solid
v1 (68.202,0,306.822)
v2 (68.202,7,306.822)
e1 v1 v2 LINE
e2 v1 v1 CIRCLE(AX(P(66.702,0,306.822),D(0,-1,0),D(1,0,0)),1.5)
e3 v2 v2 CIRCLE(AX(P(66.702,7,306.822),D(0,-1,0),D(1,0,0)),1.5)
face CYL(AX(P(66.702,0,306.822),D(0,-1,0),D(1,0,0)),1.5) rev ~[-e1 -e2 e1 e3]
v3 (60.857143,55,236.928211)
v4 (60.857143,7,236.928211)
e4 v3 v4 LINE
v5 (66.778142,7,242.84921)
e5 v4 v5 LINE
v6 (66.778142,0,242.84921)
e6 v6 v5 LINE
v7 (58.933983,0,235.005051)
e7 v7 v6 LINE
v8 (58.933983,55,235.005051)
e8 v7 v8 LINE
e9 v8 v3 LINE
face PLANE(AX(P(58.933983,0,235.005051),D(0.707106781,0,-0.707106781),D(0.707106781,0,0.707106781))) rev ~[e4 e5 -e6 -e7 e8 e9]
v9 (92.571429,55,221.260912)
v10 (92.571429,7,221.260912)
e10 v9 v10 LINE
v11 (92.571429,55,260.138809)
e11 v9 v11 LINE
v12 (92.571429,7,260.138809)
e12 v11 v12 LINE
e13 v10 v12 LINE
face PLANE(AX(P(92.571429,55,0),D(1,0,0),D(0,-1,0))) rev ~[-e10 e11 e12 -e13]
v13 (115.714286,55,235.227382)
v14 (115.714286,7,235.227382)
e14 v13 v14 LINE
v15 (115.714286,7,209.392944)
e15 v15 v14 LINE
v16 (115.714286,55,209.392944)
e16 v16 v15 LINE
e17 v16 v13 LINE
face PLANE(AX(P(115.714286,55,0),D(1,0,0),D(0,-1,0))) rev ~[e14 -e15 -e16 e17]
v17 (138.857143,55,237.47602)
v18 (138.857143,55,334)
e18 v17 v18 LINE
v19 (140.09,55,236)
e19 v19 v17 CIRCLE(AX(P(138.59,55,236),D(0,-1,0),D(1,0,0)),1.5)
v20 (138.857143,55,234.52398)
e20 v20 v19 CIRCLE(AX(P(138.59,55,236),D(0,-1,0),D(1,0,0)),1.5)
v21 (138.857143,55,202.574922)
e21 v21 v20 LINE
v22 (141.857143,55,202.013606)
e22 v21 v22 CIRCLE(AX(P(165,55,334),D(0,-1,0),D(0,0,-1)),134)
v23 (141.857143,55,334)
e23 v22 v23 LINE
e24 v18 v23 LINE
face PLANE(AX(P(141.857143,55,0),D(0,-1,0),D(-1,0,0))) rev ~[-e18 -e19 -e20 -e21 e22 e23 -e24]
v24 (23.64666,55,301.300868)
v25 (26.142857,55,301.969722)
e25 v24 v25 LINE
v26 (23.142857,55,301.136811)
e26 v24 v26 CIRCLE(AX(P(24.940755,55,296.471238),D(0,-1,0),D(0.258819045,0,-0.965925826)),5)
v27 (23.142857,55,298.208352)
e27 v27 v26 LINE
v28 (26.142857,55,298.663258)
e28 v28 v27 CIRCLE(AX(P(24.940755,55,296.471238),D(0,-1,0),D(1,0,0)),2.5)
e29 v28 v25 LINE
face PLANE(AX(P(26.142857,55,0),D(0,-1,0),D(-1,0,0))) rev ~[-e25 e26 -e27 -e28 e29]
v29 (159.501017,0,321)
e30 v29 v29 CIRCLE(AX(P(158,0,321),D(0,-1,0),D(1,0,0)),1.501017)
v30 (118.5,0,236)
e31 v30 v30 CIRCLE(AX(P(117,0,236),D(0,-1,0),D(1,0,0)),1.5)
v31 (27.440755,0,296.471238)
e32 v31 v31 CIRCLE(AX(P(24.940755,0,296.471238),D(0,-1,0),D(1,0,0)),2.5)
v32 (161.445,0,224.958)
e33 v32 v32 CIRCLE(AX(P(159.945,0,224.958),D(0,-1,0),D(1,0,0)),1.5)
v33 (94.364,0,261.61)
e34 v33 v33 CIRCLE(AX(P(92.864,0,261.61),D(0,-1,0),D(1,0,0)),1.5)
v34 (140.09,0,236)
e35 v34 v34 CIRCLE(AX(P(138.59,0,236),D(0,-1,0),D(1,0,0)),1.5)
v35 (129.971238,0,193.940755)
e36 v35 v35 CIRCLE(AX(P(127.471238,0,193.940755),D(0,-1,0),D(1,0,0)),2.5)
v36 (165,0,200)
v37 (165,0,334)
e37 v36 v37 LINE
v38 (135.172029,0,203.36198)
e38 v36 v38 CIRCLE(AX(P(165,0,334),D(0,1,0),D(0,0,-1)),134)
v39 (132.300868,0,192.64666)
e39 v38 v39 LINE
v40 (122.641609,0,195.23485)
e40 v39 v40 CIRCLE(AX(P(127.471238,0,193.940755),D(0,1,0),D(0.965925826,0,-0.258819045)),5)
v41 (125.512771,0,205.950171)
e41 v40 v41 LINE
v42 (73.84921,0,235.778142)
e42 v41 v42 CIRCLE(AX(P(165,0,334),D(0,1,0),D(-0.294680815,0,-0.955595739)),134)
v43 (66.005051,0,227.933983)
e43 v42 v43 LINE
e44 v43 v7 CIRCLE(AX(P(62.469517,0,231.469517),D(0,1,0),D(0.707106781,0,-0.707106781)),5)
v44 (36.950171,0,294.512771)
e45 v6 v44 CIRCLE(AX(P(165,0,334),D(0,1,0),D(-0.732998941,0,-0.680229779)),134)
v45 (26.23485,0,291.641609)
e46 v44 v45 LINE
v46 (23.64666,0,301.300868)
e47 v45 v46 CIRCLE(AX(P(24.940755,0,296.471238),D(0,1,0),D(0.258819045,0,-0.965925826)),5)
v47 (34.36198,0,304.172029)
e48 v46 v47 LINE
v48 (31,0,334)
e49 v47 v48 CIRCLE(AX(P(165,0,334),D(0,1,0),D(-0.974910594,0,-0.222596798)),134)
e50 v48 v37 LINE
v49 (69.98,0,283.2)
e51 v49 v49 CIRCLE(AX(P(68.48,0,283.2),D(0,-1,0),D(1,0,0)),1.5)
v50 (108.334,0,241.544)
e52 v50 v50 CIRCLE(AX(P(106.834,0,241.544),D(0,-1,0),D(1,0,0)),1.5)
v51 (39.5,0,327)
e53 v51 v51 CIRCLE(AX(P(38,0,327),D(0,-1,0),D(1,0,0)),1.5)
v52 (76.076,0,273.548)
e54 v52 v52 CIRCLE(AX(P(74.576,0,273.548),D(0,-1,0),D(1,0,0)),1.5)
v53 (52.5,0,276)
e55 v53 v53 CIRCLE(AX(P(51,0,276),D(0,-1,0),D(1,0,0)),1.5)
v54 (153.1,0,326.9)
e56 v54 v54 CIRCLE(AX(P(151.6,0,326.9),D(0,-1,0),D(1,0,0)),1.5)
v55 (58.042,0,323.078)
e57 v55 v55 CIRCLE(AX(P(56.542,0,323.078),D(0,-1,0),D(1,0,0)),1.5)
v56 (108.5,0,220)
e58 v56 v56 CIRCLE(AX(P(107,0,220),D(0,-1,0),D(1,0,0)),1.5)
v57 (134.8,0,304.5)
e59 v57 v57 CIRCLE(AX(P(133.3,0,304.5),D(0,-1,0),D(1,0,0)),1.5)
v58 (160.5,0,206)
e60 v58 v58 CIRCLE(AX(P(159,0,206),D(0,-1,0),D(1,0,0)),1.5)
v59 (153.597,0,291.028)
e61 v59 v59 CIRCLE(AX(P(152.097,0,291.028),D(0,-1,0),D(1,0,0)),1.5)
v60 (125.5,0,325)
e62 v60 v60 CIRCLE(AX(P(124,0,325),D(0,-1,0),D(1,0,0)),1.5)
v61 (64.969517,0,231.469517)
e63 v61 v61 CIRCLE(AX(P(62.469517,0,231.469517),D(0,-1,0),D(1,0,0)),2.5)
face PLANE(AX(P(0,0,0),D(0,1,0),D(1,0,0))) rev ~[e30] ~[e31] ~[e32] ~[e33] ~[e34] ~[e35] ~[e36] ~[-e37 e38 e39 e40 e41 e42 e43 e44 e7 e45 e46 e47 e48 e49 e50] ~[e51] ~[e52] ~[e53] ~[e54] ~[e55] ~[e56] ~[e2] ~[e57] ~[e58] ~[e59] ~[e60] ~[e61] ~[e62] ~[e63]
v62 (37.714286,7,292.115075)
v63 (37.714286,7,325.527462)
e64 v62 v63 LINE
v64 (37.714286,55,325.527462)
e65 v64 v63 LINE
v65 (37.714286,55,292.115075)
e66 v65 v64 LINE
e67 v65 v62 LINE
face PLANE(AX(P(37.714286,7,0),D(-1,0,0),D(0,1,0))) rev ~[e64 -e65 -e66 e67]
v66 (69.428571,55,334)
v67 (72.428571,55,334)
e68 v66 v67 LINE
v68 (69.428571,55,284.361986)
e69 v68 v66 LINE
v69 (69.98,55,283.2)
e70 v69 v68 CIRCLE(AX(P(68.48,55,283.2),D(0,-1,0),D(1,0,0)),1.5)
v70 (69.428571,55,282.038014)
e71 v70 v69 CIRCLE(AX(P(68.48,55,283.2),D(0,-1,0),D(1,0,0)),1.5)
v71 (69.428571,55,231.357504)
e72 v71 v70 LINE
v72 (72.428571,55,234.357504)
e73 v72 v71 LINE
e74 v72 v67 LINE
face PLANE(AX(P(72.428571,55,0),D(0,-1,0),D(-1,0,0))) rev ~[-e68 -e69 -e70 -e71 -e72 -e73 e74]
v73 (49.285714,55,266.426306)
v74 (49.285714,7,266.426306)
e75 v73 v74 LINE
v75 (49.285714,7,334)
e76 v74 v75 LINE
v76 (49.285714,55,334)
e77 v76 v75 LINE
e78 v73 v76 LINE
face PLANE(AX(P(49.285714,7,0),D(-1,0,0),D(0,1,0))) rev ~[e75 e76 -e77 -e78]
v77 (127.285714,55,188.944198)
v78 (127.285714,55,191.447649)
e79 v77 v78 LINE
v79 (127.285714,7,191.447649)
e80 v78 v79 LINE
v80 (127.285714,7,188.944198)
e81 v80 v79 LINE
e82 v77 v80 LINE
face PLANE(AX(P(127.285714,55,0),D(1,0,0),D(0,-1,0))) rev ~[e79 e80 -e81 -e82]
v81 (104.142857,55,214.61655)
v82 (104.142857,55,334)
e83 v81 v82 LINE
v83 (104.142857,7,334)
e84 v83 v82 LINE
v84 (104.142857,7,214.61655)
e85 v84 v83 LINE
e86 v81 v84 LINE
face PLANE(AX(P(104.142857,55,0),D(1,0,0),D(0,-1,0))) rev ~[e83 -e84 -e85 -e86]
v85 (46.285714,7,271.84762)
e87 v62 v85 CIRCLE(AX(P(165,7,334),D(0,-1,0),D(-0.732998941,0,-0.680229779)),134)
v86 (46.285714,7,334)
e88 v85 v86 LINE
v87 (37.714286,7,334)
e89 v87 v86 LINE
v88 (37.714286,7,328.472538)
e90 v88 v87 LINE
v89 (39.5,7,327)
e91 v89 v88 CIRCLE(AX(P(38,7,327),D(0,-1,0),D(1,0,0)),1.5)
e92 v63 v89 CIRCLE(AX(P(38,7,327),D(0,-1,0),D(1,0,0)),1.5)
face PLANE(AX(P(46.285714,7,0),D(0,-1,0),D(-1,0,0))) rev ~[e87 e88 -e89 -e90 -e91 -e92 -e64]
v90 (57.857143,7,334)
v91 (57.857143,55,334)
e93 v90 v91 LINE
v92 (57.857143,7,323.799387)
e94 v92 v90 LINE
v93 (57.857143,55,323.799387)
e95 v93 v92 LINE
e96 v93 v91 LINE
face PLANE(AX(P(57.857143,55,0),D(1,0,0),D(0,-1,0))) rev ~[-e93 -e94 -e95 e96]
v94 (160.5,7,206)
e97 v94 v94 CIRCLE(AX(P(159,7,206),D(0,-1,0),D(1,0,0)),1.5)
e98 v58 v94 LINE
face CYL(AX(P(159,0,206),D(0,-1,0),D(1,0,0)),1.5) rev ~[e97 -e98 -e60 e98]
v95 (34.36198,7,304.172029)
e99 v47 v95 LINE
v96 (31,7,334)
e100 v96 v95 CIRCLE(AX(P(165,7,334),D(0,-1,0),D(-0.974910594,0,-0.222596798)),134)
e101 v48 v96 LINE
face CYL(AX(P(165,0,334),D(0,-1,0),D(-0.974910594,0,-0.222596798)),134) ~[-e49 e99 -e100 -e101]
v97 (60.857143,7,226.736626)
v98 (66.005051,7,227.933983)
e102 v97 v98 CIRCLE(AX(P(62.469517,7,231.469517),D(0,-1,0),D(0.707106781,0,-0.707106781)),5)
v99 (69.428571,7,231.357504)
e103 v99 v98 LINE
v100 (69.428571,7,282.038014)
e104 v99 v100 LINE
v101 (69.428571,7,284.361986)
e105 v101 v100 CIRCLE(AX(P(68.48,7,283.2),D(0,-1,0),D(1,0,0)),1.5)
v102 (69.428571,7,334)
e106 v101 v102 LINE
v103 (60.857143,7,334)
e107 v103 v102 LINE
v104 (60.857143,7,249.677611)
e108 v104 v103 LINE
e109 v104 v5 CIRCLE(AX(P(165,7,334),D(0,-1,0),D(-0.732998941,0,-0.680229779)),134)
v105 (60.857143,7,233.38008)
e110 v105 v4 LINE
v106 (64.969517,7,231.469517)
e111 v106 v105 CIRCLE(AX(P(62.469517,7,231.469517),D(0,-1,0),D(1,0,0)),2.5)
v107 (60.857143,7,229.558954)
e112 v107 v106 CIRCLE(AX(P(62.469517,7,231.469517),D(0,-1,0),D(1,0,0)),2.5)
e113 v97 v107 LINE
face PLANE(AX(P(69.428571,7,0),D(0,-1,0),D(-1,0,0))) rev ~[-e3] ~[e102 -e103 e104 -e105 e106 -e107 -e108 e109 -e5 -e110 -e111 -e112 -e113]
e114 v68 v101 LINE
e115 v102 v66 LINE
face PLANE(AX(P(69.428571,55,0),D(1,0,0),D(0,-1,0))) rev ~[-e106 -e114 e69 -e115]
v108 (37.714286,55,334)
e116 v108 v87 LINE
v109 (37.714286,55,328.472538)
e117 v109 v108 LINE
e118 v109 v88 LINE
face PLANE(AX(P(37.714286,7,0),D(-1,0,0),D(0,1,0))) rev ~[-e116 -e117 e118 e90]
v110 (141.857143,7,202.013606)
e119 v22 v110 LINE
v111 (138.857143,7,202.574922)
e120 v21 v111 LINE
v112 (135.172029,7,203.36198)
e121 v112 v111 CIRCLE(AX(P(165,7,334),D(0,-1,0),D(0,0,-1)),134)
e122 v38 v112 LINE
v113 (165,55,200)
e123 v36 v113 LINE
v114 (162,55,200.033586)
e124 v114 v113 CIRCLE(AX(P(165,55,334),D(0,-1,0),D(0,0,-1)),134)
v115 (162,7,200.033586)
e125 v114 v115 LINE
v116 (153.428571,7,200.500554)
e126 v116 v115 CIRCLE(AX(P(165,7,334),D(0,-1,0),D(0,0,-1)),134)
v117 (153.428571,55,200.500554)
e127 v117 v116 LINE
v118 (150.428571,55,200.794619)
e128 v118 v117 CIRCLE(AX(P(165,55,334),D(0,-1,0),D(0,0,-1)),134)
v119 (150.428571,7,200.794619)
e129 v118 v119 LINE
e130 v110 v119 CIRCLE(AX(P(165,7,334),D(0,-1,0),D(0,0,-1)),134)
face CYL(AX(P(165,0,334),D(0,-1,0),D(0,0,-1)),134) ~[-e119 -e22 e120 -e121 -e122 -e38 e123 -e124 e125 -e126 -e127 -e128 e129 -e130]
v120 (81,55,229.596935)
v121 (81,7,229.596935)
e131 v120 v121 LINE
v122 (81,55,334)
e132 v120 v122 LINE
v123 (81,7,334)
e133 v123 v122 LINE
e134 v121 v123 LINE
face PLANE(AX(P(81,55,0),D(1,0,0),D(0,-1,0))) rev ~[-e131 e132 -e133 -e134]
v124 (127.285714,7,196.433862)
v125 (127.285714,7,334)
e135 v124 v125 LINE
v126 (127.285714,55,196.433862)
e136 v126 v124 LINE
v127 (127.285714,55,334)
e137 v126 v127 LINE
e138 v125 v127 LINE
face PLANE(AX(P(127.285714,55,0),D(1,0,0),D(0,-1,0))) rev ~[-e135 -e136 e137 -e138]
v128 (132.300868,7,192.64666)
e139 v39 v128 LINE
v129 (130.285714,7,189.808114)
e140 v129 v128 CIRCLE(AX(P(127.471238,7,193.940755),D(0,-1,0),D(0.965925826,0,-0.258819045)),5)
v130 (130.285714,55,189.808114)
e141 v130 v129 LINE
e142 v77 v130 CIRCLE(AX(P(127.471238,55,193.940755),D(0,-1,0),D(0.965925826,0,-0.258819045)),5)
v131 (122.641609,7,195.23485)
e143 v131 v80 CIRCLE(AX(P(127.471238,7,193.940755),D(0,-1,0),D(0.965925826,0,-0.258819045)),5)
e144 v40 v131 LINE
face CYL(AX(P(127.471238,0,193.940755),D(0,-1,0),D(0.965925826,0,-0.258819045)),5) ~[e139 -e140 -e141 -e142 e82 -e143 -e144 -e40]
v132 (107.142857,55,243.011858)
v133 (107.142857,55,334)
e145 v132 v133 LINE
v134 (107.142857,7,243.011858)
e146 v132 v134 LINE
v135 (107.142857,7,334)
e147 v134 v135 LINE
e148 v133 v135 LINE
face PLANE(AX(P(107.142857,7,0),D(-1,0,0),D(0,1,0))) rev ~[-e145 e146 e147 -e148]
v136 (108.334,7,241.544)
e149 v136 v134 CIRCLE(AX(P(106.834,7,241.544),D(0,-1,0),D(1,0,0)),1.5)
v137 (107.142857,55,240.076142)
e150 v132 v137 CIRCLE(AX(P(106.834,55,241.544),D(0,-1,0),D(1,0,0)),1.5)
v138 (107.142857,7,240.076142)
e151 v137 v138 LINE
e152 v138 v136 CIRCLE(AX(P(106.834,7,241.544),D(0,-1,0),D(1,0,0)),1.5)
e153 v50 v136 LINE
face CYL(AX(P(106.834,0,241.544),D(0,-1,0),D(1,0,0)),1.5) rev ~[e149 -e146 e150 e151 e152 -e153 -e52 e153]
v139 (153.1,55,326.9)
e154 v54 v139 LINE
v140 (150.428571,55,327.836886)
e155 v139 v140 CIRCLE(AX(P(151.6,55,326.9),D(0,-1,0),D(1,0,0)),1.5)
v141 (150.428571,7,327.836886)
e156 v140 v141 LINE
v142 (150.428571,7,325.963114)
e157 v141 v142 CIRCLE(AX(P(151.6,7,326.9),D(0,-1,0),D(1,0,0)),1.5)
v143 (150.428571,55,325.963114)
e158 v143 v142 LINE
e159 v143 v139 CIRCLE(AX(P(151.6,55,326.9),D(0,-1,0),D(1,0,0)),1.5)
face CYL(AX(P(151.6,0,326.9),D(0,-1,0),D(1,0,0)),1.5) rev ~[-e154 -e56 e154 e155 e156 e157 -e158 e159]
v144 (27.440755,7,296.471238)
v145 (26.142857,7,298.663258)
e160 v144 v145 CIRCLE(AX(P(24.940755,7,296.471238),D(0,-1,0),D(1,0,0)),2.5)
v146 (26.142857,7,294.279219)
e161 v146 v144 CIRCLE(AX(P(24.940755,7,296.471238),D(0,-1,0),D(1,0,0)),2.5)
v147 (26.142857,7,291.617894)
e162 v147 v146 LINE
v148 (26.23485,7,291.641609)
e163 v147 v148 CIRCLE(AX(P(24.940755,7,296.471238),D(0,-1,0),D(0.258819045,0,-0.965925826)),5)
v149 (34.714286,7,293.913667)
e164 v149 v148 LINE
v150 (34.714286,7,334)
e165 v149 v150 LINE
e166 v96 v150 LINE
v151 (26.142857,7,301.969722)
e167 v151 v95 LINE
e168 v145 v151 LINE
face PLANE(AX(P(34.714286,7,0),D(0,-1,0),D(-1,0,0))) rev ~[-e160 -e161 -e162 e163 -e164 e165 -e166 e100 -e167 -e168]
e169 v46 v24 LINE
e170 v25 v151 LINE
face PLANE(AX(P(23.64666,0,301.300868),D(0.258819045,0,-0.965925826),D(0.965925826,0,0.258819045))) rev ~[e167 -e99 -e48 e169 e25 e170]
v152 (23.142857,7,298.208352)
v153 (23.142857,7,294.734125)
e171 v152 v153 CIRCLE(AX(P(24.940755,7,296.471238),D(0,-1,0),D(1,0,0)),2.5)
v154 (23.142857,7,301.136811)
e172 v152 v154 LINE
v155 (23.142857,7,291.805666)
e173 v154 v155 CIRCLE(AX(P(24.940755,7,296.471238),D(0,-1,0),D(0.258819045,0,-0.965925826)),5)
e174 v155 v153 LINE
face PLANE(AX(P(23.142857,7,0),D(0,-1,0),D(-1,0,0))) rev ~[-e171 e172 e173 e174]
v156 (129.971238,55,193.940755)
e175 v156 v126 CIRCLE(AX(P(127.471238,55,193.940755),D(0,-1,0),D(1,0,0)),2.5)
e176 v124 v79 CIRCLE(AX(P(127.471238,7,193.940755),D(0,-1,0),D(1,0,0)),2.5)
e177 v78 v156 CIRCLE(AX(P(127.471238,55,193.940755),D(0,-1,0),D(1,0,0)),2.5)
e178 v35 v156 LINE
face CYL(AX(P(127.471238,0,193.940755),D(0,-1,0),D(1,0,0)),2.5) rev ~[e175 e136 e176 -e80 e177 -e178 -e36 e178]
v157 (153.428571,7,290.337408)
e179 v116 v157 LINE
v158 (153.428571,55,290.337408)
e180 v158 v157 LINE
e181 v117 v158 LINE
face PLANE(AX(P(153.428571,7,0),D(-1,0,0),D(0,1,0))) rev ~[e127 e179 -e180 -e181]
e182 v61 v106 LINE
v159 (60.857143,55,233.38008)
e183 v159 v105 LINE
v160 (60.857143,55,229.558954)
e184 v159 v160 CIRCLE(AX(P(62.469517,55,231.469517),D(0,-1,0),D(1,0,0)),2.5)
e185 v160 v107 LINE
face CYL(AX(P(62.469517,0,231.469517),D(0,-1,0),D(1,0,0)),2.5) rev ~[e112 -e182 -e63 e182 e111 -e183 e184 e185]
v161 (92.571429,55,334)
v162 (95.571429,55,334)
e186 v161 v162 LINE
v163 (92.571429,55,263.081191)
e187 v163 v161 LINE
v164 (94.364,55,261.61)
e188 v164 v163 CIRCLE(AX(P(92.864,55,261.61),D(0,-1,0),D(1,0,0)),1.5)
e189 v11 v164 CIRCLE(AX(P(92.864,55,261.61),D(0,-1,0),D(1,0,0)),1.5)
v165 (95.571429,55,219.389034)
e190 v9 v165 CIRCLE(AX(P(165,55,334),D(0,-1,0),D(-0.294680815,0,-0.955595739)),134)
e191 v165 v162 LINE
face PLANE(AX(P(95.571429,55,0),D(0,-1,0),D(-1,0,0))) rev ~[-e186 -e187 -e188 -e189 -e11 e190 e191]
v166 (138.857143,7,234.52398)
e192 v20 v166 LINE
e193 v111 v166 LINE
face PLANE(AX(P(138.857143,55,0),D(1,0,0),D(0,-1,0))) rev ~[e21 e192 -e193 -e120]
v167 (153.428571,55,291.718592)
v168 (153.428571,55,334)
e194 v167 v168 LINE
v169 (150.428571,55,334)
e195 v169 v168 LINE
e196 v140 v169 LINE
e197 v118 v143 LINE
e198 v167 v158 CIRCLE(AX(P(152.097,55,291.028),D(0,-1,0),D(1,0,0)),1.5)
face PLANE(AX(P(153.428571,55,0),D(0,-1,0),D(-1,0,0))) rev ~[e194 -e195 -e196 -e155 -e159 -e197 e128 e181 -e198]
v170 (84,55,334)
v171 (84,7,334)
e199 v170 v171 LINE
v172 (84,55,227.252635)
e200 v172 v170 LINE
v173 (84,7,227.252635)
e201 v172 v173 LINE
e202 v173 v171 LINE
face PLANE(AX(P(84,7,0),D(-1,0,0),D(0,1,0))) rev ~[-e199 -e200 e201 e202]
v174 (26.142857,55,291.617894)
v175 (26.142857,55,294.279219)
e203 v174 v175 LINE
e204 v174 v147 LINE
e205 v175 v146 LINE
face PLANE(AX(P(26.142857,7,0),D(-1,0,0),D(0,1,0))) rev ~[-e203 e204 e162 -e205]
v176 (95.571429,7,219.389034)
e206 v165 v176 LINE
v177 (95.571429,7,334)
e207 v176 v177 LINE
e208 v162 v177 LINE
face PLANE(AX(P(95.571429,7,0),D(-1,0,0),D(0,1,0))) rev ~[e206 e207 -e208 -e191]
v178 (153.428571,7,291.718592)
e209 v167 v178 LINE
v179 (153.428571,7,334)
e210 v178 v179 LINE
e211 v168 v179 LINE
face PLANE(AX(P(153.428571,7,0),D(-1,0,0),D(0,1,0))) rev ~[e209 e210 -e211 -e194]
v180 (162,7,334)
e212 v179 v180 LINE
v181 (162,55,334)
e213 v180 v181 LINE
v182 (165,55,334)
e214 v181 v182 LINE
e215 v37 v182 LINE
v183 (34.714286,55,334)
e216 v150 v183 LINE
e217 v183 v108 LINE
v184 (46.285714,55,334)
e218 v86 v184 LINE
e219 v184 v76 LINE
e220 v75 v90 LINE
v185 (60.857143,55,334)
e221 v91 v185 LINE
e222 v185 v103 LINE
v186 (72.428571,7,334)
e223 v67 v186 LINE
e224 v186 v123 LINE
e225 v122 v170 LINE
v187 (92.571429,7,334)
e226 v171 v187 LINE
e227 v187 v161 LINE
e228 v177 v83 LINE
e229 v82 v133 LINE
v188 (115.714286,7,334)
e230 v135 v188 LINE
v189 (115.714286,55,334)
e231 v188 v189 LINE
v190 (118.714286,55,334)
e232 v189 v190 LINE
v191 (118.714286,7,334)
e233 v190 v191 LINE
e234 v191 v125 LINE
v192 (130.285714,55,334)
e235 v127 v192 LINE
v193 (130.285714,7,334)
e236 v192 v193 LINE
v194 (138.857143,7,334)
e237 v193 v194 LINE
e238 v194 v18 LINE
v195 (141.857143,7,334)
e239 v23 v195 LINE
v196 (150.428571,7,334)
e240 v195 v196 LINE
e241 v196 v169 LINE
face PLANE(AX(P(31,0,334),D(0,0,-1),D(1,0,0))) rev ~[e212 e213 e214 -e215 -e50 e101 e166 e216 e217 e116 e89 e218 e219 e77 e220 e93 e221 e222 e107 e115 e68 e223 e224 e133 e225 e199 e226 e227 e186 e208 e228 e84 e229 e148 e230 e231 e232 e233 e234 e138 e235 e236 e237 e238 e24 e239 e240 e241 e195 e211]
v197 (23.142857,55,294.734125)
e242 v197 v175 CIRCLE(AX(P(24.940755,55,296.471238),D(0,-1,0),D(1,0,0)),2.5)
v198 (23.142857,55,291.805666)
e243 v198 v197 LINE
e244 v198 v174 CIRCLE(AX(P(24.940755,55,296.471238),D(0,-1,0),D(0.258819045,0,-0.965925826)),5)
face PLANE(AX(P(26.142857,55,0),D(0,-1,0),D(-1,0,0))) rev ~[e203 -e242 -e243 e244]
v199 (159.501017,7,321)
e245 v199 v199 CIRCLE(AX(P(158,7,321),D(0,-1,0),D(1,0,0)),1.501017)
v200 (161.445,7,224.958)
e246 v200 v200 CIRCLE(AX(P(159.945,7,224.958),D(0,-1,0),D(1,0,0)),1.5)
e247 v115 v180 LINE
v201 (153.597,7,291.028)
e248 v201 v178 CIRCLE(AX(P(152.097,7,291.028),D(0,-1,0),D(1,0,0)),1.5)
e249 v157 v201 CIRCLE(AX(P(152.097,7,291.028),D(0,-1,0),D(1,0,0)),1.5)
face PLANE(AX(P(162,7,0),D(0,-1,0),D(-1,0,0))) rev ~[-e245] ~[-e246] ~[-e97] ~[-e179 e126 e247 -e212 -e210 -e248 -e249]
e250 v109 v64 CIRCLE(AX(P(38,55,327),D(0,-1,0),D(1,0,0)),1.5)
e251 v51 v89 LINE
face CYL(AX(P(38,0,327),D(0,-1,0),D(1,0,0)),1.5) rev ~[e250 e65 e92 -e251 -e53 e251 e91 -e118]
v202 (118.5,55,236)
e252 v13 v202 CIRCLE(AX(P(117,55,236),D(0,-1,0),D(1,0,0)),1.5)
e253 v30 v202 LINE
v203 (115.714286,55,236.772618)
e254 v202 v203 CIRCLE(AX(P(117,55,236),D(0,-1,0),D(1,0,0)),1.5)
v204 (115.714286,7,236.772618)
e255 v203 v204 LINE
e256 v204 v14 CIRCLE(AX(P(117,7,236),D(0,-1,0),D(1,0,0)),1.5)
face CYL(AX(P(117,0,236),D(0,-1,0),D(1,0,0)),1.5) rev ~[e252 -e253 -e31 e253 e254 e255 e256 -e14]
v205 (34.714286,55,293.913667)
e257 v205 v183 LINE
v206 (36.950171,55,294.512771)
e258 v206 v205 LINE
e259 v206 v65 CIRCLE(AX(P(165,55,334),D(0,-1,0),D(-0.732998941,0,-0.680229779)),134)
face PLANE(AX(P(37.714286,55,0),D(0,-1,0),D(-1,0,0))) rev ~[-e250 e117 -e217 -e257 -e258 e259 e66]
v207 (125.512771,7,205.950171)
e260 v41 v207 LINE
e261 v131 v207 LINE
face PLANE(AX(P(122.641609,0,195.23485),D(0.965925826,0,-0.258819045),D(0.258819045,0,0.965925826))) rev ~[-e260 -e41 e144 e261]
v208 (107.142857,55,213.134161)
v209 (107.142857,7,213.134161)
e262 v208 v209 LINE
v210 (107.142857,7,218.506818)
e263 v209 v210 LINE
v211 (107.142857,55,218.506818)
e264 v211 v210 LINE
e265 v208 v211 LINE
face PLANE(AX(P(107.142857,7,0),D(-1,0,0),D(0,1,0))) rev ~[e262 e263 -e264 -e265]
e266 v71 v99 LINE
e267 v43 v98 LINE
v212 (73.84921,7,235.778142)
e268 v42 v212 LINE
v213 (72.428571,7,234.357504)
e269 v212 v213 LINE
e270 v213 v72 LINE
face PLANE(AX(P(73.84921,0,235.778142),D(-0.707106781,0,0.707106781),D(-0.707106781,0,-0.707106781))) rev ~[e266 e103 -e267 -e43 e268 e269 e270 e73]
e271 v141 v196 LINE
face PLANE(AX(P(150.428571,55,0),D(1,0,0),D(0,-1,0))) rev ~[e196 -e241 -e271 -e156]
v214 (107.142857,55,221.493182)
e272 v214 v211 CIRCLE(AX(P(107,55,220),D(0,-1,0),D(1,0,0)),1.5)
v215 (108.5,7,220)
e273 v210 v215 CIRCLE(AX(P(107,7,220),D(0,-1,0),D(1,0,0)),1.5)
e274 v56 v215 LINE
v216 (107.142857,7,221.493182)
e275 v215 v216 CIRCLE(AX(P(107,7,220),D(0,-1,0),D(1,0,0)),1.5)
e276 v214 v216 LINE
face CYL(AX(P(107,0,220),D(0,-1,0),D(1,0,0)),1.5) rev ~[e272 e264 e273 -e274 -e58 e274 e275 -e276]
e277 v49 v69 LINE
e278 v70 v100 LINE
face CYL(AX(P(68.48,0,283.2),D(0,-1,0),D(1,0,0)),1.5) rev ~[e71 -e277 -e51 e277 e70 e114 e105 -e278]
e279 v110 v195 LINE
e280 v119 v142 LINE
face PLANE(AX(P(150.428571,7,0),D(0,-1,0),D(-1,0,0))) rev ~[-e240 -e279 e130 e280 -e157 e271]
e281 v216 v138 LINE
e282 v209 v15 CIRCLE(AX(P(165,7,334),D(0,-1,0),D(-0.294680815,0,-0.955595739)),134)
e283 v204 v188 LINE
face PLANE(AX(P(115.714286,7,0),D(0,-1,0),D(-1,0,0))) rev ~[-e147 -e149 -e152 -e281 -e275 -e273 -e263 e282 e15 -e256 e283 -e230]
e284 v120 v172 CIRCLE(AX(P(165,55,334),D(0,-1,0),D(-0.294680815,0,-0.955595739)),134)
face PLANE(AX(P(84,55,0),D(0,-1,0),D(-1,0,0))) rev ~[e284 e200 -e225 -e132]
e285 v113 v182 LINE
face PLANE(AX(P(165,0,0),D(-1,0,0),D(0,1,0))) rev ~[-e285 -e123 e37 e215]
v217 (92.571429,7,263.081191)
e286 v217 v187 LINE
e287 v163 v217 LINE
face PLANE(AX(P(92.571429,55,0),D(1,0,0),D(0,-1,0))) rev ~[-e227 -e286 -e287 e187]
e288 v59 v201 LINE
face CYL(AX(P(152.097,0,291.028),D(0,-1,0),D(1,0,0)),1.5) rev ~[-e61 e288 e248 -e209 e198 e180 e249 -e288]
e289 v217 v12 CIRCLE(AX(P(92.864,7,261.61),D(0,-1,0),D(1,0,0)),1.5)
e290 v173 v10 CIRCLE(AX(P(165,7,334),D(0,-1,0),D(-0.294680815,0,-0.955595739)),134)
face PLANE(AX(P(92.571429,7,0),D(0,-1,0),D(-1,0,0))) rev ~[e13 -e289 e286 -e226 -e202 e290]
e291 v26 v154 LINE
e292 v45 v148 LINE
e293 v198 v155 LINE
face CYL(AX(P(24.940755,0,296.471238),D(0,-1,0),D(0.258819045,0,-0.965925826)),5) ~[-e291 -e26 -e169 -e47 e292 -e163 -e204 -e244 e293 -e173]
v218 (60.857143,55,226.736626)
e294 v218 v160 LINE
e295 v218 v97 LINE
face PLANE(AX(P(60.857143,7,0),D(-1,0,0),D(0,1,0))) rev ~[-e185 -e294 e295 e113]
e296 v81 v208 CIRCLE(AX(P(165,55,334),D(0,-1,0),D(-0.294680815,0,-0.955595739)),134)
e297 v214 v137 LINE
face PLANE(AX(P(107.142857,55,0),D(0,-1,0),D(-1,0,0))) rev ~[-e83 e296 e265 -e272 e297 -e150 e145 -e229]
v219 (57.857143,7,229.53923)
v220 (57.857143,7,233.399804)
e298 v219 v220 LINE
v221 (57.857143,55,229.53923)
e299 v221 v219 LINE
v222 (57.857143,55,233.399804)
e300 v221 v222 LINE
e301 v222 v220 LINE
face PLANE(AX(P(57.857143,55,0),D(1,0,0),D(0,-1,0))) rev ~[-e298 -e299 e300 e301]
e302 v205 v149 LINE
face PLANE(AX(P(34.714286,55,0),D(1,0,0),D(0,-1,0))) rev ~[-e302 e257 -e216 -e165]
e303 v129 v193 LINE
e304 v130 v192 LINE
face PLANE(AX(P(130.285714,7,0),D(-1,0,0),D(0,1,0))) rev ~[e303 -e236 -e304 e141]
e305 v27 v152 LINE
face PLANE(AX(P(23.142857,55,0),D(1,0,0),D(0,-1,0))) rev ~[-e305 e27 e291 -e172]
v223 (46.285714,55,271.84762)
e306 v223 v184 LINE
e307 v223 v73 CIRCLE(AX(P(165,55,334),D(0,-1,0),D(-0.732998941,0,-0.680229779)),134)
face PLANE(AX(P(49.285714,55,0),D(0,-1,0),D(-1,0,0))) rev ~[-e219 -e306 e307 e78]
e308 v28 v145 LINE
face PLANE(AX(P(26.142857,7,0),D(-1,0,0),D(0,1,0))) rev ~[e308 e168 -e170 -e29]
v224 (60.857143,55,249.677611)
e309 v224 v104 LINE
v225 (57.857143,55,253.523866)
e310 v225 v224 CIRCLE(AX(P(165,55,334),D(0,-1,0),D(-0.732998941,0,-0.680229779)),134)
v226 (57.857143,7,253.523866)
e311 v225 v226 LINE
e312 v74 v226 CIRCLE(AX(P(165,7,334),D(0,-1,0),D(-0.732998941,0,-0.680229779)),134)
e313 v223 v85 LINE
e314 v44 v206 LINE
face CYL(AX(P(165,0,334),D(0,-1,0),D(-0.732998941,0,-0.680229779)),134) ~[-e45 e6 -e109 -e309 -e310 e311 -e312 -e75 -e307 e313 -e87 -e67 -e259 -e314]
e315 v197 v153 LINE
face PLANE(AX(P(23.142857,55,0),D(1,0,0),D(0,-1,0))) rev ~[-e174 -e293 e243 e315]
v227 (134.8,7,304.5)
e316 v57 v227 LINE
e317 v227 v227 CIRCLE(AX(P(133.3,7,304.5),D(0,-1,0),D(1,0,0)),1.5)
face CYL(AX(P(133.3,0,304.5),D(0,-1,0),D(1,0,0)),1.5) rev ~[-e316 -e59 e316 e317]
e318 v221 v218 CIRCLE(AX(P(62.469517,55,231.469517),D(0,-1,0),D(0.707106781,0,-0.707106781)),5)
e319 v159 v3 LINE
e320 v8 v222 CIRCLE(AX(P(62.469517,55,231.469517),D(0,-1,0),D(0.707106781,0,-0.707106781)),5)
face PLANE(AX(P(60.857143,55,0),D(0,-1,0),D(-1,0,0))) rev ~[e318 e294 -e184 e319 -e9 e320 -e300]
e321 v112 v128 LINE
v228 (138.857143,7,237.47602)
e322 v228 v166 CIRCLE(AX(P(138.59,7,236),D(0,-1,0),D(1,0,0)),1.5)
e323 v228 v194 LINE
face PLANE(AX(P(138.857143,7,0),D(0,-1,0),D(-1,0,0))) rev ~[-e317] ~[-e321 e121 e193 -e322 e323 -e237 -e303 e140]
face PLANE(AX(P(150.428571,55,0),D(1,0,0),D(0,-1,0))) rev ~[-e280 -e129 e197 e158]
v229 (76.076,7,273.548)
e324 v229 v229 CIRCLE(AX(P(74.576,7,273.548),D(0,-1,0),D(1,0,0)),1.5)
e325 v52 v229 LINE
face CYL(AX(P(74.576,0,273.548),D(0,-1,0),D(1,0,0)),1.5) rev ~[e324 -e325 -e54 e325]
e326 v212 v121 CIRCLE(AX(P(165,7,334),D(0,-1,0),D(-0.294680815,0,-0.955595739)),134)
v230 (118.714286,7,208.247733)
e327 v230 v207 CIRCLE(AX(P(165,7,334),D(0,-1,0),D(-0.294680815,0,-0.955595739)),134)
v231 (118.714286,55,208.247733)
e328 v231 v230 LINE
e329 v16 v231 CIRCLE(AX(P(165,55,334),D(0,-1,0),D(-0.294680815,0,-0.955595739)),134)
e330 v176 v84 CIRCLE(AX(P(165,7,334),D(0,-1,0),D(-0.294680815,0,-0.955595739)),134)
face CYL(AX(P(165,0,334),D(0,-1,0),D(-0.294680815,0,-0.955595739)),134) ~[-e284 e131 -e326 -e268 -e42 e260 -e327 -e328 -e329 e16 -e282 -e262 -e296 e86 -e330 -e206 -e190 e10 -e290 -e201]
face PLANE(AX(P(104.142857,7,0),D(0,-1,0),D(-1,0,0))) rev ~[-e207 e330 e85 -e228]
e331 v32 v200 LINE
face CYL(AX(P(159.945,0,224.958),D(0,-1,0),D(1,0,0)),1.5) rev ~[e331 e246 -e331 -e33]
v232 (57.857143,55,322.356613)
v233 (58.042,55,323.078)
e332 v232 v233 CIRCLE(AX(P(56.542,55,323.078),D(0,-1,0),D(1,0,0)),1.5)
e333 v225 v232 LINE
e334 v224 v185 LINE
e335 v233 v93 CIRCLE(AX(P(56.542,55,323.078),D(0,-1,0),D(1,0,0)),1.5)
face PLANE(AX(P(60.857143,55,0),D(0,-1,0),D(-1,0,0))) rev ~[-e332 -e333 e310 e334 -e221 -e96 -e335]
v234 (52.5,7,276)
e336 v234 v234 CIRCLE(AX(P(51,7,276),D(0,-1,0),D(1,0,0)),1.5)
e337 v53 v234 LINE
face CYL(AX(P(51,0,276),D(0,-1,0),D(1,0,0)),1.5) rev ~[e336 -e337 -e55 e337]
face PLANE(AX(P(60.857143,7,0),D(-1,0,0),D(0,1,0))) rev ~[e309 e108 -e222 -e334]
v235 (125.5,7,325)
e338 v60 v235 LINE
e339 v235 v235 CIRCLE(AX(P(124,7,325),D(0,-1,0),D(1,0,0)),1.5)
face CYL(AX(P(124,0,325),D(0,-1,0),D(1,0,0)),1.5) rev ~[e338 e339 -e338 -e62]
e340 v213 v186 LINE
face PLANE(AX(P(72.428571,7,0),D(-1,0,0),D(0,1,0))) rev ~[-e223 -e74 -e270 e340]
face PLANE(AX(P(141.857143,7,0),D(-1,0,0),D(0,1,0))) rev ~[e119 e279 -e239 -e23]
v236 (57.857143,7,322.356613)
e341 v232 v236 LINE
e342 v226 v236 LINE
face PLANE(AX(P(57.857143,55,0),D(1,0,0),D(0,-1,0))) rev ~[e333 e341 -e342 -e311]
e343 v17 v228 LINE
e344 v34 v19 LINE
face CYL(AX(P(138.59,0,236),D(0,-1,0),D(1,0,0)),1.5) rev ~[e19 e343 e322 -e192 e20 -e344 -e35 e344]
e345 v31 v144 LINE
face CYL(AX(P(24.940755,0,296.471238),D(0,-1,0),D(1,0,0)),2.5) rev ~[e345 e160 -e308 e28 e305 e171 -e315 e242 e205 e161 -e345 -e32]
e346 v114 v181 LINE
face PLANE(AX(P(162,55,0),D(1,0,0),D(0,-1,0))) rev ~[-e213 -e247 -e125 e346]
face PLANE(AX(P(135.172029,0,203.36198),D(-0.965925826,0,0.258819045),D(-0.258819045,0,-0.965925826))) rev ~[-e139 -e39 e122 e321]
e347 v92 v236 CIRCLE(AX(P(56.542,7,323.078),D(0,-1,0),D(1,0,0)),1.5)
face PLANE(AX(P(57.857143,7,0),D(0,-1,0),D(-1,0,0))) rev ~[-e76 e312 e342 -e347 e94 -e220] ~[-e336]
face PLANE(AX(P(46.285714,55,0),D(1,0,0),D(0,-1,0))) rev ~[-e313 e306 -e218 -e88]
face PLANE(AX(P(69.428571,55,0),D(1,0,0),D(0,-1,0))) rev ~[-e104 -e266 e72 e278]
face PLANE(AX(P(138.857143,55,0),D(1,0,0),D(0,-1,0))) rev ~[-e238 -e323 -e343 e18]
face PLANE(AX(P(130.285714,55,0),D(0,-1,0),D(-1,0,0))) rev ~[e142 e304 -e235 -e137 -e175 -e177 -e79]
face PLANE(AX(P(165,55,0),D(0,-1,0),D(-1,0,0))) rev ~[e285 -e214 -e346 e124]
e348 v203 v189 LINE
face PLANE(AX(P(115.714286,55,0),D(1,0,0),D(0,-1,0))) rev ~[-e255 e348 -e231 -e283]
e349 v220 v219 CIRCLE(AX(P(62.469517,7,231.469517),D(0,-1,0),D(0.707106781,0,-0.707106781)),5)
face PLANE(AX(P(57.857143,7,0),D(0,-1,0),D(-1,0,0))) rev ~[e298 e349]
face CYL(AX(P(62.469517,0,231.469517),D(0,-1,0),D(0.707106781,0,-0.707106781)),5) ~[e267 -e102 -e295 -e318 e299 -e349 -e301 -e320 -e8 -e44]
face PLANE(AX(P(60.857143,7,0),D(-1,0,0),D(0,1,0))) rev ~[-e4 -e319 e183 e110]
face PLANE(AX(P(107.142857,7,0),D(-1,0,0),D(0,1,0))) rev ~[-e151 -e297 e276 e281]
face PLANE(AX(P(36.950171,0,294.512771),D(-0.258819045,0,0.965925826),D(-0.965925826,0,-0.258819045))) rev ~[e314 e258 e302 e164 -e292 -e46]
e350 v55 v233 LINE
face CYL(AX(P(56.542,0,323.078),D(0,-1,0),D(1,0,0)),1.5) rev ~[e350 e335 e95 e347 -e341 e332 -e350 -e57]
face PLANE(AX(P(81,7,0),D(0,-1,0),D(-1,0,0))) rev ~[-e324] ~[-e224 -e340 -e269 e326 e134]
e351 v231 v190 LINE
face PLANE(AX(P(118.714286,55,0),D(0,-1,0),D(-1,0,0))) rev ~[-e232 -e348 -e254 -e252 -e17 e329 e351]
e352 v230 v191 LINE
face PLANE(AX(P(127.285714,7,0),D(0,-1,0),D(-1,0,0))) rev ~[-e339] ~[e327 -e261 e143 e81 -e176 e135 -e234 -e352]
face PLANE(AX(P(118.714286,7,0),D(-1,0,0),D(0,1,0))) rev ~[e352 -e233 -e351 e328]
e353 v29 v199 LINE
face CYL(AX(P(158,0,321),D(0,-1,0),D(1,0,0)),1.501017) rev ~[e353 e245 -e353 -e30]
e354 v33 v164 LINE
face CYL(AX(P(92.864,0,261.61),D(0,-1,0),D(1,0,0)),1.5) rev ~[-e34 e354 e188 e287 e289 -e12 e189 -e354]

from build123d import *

# Parameters (mm, degrees)
BOSS_EXTRUDE1_DEPTH = 1000
CUT_EXTRUDE3_DEPTH  = 100
SKETCH3_6_R         = 1.5
SKETCH3_6_R_2       = 2.5
SKETCH3_6_R_3       = 1.501016752
CUT_EXTRUDE4_DEPTH  = 100


with BuildPart() as part:
    # Sketch1 → Boss-Extrude1 (new body)
    with BuildSketch(Plane.XY):
        Polygon((11.571428571, 55), (11.571428571, 7), (3, 7), (3, 55), (0, 55), (0, 7), (0, 0), (165, 0), (165, 7), (165, 10), (165, 55), (162, 55), (162, 7), (153.428571429, 7), (153.428571429, 55), (150.428571429, 55), (150.428571429, 7), (141.857142857, 7), (141.857142857, 55), (138.857142857, 55), (138.857142857, 7), (130.285714286, 7), (130.285714286, 55), (127.285714286, 55), (127.285714286, 7), (118.714285714, 7), (118.714285714, 55), (115.714285714, 55), (115.714285714, 7), (107.142857143, 7), (107.142857143, 55), (104.142857143, 55), (104.142857143, 7), (95.571428571, 7), (95.571428571, 55), (92.571428571, 55), (92.571428571, 7), (84, 7), (84, 55), (81, 55), (81, 7), (72.428571429, 7), (72.428571429, 55), (69.428571429, 55), (69.428571429, 7), (60.857142857, 7), (60.857142857, 55), (57.857142857, 55), (57.857142857, 7), (49.285714286, 7), (49.285714286, 55), (46.285714286, 55), (46.285714286, 7), (37.714285714, 7), (37.714285714, 55), (34.714285714, 55), (34.714285714, 7), (26.142857143, 7), (26.142857143, 55), (23.142857143, 55), (23.142857143, 7), (14.571428571, 7), (14.571428571, 55), align=None)
    extrude(amount=BOSS_EXTRUDE1_DEPTH)

    # Sketch3 → Cut-Extrude3 (cut)
    with BuildSketch(Plane.XZ):
        with BuildLine():
            Line((135.172029065, 203.361980458), (132.300867592, 192.646659963))
            ThreePointArc((132.300867592, 192.646659963), (126.177143235, 189.111126057), (122.641609329, 195.234850414))
            Line((122.641609329, 195.234850414), (125.512770802, 205.950170909))
            ThreePointArc((125.512770802, 205.950170909), (98, 217.952595893), (73.849209656, 235.778141844))
            Line((73.849209656, 235.778141844), (66.005050634, 227.933982822))
            ThreePointArc((66.005050634, 227.933982822), (58.933982822, 227.933982822), (58.933982822, 235.005050634))
            Line((58.933982822, 235.005050634), (66.778141844, 242.849209656))
            ThreePointArc((66.778141844, 242.849209656), (48.952595893, 267), (36.950170909, 294.512770802))
            Line((36.950170909, 294.512770802), (26.234850414, 291.641609329))
            ThreePointArc((26.234850414, 291.641609329), (20.111126057, 295.177143235), (23.646659963, 301.300867592))
            Line((23.646659963, 301.300867592), (34.361980458, 304.172029065))
            ThreePointArc((34.361980458, 304.172029065), (31.843147719, 318.991579341), (31, 334))
            Line((31, 334), (165, 334))
            Line((165, 334), (165, 1000))
            Line((165, 1000), (0, 1000))
            Line((0, 1000), (0, 0))
            Line((0, 0), (165, 0))
            Line((165, 0), (165, 200))
            ThreePointArc((165, 200), (149.991579341, 200.843147719), (135.172029065, 203.361980458))
        make_face()
    extrude(amount=-CUT_EXTRUDE3_DEPTH, mode=Mode.SUBTRACT)

    # Sketch3<6> → Cut-Extrude4 (cut)
    with BuildSketch(Plane.XZ):
        with Locations((117, 236)):
            Circle(SKETCH3_6_R)
        with Locations((106.834, 241.544)):
            Circle(SKETCH3_6_R)
        with Locations((127.47123846, 193.940755188)):
            Circle(SKETCH3_6_R_2)
        with Locations((62.469516728, 231.469516728)):
            Circle(SKETCH3_6_R_2)
        with Locations((24.940755188, 296.47123846)):
            Circle(SKETCH3_6_R_2)
        with Locations((159, 206)):
            Circle(SKETCH3_6_R)
        with Locations((159.945, 224.958)):
            Circle(SKETCH3_6_R)
        with Locations((138.59, 236)):
            Circle(SKETCH3_6_R)
        with Locations((107, 220)):
            Circle(SKETCH3_6_R)
        with Locations((92.864, 261.61)):
            Circle(SKETCH3_6_R)
        with Locations((74.576, 273.548)):
            Circle(SKETCH3_6_R)
        with Locations((68.48, 283.2)):
            Circle(SKETCH3_6_R)
        with Locations((51, 276)):
            Circle(SKETCH3_6_R)
        with Locations((152.097, 291.028)):
            Circle(SKETCH3_6_R)
        with Locations((133.3, 304.5)):
            Circle(SKETCH3_6_R)
        with Locations((66.702, 306.822)):
            Circle(SKETCH3_6_R)
        with Locations((56.542, 323.078)):
            Circle(SKETCH3_6_R)
        with Locations((38, 327)):
            Circle(SKETCH3_6_R)
        with Locations((124, 325)):
            Circle(SKETCH3_6_R)
        with Locations((158, 321)):
            Circle(SKETCH3_6_R_3)
        with Locations((151.6, 326.9)):
            Circle(SKETCH3_6_R)
    extrude(amount=-CUT_EXTRUDE4_DEPTH, mode=Mode.SUBTRACT)


solid = part.part
